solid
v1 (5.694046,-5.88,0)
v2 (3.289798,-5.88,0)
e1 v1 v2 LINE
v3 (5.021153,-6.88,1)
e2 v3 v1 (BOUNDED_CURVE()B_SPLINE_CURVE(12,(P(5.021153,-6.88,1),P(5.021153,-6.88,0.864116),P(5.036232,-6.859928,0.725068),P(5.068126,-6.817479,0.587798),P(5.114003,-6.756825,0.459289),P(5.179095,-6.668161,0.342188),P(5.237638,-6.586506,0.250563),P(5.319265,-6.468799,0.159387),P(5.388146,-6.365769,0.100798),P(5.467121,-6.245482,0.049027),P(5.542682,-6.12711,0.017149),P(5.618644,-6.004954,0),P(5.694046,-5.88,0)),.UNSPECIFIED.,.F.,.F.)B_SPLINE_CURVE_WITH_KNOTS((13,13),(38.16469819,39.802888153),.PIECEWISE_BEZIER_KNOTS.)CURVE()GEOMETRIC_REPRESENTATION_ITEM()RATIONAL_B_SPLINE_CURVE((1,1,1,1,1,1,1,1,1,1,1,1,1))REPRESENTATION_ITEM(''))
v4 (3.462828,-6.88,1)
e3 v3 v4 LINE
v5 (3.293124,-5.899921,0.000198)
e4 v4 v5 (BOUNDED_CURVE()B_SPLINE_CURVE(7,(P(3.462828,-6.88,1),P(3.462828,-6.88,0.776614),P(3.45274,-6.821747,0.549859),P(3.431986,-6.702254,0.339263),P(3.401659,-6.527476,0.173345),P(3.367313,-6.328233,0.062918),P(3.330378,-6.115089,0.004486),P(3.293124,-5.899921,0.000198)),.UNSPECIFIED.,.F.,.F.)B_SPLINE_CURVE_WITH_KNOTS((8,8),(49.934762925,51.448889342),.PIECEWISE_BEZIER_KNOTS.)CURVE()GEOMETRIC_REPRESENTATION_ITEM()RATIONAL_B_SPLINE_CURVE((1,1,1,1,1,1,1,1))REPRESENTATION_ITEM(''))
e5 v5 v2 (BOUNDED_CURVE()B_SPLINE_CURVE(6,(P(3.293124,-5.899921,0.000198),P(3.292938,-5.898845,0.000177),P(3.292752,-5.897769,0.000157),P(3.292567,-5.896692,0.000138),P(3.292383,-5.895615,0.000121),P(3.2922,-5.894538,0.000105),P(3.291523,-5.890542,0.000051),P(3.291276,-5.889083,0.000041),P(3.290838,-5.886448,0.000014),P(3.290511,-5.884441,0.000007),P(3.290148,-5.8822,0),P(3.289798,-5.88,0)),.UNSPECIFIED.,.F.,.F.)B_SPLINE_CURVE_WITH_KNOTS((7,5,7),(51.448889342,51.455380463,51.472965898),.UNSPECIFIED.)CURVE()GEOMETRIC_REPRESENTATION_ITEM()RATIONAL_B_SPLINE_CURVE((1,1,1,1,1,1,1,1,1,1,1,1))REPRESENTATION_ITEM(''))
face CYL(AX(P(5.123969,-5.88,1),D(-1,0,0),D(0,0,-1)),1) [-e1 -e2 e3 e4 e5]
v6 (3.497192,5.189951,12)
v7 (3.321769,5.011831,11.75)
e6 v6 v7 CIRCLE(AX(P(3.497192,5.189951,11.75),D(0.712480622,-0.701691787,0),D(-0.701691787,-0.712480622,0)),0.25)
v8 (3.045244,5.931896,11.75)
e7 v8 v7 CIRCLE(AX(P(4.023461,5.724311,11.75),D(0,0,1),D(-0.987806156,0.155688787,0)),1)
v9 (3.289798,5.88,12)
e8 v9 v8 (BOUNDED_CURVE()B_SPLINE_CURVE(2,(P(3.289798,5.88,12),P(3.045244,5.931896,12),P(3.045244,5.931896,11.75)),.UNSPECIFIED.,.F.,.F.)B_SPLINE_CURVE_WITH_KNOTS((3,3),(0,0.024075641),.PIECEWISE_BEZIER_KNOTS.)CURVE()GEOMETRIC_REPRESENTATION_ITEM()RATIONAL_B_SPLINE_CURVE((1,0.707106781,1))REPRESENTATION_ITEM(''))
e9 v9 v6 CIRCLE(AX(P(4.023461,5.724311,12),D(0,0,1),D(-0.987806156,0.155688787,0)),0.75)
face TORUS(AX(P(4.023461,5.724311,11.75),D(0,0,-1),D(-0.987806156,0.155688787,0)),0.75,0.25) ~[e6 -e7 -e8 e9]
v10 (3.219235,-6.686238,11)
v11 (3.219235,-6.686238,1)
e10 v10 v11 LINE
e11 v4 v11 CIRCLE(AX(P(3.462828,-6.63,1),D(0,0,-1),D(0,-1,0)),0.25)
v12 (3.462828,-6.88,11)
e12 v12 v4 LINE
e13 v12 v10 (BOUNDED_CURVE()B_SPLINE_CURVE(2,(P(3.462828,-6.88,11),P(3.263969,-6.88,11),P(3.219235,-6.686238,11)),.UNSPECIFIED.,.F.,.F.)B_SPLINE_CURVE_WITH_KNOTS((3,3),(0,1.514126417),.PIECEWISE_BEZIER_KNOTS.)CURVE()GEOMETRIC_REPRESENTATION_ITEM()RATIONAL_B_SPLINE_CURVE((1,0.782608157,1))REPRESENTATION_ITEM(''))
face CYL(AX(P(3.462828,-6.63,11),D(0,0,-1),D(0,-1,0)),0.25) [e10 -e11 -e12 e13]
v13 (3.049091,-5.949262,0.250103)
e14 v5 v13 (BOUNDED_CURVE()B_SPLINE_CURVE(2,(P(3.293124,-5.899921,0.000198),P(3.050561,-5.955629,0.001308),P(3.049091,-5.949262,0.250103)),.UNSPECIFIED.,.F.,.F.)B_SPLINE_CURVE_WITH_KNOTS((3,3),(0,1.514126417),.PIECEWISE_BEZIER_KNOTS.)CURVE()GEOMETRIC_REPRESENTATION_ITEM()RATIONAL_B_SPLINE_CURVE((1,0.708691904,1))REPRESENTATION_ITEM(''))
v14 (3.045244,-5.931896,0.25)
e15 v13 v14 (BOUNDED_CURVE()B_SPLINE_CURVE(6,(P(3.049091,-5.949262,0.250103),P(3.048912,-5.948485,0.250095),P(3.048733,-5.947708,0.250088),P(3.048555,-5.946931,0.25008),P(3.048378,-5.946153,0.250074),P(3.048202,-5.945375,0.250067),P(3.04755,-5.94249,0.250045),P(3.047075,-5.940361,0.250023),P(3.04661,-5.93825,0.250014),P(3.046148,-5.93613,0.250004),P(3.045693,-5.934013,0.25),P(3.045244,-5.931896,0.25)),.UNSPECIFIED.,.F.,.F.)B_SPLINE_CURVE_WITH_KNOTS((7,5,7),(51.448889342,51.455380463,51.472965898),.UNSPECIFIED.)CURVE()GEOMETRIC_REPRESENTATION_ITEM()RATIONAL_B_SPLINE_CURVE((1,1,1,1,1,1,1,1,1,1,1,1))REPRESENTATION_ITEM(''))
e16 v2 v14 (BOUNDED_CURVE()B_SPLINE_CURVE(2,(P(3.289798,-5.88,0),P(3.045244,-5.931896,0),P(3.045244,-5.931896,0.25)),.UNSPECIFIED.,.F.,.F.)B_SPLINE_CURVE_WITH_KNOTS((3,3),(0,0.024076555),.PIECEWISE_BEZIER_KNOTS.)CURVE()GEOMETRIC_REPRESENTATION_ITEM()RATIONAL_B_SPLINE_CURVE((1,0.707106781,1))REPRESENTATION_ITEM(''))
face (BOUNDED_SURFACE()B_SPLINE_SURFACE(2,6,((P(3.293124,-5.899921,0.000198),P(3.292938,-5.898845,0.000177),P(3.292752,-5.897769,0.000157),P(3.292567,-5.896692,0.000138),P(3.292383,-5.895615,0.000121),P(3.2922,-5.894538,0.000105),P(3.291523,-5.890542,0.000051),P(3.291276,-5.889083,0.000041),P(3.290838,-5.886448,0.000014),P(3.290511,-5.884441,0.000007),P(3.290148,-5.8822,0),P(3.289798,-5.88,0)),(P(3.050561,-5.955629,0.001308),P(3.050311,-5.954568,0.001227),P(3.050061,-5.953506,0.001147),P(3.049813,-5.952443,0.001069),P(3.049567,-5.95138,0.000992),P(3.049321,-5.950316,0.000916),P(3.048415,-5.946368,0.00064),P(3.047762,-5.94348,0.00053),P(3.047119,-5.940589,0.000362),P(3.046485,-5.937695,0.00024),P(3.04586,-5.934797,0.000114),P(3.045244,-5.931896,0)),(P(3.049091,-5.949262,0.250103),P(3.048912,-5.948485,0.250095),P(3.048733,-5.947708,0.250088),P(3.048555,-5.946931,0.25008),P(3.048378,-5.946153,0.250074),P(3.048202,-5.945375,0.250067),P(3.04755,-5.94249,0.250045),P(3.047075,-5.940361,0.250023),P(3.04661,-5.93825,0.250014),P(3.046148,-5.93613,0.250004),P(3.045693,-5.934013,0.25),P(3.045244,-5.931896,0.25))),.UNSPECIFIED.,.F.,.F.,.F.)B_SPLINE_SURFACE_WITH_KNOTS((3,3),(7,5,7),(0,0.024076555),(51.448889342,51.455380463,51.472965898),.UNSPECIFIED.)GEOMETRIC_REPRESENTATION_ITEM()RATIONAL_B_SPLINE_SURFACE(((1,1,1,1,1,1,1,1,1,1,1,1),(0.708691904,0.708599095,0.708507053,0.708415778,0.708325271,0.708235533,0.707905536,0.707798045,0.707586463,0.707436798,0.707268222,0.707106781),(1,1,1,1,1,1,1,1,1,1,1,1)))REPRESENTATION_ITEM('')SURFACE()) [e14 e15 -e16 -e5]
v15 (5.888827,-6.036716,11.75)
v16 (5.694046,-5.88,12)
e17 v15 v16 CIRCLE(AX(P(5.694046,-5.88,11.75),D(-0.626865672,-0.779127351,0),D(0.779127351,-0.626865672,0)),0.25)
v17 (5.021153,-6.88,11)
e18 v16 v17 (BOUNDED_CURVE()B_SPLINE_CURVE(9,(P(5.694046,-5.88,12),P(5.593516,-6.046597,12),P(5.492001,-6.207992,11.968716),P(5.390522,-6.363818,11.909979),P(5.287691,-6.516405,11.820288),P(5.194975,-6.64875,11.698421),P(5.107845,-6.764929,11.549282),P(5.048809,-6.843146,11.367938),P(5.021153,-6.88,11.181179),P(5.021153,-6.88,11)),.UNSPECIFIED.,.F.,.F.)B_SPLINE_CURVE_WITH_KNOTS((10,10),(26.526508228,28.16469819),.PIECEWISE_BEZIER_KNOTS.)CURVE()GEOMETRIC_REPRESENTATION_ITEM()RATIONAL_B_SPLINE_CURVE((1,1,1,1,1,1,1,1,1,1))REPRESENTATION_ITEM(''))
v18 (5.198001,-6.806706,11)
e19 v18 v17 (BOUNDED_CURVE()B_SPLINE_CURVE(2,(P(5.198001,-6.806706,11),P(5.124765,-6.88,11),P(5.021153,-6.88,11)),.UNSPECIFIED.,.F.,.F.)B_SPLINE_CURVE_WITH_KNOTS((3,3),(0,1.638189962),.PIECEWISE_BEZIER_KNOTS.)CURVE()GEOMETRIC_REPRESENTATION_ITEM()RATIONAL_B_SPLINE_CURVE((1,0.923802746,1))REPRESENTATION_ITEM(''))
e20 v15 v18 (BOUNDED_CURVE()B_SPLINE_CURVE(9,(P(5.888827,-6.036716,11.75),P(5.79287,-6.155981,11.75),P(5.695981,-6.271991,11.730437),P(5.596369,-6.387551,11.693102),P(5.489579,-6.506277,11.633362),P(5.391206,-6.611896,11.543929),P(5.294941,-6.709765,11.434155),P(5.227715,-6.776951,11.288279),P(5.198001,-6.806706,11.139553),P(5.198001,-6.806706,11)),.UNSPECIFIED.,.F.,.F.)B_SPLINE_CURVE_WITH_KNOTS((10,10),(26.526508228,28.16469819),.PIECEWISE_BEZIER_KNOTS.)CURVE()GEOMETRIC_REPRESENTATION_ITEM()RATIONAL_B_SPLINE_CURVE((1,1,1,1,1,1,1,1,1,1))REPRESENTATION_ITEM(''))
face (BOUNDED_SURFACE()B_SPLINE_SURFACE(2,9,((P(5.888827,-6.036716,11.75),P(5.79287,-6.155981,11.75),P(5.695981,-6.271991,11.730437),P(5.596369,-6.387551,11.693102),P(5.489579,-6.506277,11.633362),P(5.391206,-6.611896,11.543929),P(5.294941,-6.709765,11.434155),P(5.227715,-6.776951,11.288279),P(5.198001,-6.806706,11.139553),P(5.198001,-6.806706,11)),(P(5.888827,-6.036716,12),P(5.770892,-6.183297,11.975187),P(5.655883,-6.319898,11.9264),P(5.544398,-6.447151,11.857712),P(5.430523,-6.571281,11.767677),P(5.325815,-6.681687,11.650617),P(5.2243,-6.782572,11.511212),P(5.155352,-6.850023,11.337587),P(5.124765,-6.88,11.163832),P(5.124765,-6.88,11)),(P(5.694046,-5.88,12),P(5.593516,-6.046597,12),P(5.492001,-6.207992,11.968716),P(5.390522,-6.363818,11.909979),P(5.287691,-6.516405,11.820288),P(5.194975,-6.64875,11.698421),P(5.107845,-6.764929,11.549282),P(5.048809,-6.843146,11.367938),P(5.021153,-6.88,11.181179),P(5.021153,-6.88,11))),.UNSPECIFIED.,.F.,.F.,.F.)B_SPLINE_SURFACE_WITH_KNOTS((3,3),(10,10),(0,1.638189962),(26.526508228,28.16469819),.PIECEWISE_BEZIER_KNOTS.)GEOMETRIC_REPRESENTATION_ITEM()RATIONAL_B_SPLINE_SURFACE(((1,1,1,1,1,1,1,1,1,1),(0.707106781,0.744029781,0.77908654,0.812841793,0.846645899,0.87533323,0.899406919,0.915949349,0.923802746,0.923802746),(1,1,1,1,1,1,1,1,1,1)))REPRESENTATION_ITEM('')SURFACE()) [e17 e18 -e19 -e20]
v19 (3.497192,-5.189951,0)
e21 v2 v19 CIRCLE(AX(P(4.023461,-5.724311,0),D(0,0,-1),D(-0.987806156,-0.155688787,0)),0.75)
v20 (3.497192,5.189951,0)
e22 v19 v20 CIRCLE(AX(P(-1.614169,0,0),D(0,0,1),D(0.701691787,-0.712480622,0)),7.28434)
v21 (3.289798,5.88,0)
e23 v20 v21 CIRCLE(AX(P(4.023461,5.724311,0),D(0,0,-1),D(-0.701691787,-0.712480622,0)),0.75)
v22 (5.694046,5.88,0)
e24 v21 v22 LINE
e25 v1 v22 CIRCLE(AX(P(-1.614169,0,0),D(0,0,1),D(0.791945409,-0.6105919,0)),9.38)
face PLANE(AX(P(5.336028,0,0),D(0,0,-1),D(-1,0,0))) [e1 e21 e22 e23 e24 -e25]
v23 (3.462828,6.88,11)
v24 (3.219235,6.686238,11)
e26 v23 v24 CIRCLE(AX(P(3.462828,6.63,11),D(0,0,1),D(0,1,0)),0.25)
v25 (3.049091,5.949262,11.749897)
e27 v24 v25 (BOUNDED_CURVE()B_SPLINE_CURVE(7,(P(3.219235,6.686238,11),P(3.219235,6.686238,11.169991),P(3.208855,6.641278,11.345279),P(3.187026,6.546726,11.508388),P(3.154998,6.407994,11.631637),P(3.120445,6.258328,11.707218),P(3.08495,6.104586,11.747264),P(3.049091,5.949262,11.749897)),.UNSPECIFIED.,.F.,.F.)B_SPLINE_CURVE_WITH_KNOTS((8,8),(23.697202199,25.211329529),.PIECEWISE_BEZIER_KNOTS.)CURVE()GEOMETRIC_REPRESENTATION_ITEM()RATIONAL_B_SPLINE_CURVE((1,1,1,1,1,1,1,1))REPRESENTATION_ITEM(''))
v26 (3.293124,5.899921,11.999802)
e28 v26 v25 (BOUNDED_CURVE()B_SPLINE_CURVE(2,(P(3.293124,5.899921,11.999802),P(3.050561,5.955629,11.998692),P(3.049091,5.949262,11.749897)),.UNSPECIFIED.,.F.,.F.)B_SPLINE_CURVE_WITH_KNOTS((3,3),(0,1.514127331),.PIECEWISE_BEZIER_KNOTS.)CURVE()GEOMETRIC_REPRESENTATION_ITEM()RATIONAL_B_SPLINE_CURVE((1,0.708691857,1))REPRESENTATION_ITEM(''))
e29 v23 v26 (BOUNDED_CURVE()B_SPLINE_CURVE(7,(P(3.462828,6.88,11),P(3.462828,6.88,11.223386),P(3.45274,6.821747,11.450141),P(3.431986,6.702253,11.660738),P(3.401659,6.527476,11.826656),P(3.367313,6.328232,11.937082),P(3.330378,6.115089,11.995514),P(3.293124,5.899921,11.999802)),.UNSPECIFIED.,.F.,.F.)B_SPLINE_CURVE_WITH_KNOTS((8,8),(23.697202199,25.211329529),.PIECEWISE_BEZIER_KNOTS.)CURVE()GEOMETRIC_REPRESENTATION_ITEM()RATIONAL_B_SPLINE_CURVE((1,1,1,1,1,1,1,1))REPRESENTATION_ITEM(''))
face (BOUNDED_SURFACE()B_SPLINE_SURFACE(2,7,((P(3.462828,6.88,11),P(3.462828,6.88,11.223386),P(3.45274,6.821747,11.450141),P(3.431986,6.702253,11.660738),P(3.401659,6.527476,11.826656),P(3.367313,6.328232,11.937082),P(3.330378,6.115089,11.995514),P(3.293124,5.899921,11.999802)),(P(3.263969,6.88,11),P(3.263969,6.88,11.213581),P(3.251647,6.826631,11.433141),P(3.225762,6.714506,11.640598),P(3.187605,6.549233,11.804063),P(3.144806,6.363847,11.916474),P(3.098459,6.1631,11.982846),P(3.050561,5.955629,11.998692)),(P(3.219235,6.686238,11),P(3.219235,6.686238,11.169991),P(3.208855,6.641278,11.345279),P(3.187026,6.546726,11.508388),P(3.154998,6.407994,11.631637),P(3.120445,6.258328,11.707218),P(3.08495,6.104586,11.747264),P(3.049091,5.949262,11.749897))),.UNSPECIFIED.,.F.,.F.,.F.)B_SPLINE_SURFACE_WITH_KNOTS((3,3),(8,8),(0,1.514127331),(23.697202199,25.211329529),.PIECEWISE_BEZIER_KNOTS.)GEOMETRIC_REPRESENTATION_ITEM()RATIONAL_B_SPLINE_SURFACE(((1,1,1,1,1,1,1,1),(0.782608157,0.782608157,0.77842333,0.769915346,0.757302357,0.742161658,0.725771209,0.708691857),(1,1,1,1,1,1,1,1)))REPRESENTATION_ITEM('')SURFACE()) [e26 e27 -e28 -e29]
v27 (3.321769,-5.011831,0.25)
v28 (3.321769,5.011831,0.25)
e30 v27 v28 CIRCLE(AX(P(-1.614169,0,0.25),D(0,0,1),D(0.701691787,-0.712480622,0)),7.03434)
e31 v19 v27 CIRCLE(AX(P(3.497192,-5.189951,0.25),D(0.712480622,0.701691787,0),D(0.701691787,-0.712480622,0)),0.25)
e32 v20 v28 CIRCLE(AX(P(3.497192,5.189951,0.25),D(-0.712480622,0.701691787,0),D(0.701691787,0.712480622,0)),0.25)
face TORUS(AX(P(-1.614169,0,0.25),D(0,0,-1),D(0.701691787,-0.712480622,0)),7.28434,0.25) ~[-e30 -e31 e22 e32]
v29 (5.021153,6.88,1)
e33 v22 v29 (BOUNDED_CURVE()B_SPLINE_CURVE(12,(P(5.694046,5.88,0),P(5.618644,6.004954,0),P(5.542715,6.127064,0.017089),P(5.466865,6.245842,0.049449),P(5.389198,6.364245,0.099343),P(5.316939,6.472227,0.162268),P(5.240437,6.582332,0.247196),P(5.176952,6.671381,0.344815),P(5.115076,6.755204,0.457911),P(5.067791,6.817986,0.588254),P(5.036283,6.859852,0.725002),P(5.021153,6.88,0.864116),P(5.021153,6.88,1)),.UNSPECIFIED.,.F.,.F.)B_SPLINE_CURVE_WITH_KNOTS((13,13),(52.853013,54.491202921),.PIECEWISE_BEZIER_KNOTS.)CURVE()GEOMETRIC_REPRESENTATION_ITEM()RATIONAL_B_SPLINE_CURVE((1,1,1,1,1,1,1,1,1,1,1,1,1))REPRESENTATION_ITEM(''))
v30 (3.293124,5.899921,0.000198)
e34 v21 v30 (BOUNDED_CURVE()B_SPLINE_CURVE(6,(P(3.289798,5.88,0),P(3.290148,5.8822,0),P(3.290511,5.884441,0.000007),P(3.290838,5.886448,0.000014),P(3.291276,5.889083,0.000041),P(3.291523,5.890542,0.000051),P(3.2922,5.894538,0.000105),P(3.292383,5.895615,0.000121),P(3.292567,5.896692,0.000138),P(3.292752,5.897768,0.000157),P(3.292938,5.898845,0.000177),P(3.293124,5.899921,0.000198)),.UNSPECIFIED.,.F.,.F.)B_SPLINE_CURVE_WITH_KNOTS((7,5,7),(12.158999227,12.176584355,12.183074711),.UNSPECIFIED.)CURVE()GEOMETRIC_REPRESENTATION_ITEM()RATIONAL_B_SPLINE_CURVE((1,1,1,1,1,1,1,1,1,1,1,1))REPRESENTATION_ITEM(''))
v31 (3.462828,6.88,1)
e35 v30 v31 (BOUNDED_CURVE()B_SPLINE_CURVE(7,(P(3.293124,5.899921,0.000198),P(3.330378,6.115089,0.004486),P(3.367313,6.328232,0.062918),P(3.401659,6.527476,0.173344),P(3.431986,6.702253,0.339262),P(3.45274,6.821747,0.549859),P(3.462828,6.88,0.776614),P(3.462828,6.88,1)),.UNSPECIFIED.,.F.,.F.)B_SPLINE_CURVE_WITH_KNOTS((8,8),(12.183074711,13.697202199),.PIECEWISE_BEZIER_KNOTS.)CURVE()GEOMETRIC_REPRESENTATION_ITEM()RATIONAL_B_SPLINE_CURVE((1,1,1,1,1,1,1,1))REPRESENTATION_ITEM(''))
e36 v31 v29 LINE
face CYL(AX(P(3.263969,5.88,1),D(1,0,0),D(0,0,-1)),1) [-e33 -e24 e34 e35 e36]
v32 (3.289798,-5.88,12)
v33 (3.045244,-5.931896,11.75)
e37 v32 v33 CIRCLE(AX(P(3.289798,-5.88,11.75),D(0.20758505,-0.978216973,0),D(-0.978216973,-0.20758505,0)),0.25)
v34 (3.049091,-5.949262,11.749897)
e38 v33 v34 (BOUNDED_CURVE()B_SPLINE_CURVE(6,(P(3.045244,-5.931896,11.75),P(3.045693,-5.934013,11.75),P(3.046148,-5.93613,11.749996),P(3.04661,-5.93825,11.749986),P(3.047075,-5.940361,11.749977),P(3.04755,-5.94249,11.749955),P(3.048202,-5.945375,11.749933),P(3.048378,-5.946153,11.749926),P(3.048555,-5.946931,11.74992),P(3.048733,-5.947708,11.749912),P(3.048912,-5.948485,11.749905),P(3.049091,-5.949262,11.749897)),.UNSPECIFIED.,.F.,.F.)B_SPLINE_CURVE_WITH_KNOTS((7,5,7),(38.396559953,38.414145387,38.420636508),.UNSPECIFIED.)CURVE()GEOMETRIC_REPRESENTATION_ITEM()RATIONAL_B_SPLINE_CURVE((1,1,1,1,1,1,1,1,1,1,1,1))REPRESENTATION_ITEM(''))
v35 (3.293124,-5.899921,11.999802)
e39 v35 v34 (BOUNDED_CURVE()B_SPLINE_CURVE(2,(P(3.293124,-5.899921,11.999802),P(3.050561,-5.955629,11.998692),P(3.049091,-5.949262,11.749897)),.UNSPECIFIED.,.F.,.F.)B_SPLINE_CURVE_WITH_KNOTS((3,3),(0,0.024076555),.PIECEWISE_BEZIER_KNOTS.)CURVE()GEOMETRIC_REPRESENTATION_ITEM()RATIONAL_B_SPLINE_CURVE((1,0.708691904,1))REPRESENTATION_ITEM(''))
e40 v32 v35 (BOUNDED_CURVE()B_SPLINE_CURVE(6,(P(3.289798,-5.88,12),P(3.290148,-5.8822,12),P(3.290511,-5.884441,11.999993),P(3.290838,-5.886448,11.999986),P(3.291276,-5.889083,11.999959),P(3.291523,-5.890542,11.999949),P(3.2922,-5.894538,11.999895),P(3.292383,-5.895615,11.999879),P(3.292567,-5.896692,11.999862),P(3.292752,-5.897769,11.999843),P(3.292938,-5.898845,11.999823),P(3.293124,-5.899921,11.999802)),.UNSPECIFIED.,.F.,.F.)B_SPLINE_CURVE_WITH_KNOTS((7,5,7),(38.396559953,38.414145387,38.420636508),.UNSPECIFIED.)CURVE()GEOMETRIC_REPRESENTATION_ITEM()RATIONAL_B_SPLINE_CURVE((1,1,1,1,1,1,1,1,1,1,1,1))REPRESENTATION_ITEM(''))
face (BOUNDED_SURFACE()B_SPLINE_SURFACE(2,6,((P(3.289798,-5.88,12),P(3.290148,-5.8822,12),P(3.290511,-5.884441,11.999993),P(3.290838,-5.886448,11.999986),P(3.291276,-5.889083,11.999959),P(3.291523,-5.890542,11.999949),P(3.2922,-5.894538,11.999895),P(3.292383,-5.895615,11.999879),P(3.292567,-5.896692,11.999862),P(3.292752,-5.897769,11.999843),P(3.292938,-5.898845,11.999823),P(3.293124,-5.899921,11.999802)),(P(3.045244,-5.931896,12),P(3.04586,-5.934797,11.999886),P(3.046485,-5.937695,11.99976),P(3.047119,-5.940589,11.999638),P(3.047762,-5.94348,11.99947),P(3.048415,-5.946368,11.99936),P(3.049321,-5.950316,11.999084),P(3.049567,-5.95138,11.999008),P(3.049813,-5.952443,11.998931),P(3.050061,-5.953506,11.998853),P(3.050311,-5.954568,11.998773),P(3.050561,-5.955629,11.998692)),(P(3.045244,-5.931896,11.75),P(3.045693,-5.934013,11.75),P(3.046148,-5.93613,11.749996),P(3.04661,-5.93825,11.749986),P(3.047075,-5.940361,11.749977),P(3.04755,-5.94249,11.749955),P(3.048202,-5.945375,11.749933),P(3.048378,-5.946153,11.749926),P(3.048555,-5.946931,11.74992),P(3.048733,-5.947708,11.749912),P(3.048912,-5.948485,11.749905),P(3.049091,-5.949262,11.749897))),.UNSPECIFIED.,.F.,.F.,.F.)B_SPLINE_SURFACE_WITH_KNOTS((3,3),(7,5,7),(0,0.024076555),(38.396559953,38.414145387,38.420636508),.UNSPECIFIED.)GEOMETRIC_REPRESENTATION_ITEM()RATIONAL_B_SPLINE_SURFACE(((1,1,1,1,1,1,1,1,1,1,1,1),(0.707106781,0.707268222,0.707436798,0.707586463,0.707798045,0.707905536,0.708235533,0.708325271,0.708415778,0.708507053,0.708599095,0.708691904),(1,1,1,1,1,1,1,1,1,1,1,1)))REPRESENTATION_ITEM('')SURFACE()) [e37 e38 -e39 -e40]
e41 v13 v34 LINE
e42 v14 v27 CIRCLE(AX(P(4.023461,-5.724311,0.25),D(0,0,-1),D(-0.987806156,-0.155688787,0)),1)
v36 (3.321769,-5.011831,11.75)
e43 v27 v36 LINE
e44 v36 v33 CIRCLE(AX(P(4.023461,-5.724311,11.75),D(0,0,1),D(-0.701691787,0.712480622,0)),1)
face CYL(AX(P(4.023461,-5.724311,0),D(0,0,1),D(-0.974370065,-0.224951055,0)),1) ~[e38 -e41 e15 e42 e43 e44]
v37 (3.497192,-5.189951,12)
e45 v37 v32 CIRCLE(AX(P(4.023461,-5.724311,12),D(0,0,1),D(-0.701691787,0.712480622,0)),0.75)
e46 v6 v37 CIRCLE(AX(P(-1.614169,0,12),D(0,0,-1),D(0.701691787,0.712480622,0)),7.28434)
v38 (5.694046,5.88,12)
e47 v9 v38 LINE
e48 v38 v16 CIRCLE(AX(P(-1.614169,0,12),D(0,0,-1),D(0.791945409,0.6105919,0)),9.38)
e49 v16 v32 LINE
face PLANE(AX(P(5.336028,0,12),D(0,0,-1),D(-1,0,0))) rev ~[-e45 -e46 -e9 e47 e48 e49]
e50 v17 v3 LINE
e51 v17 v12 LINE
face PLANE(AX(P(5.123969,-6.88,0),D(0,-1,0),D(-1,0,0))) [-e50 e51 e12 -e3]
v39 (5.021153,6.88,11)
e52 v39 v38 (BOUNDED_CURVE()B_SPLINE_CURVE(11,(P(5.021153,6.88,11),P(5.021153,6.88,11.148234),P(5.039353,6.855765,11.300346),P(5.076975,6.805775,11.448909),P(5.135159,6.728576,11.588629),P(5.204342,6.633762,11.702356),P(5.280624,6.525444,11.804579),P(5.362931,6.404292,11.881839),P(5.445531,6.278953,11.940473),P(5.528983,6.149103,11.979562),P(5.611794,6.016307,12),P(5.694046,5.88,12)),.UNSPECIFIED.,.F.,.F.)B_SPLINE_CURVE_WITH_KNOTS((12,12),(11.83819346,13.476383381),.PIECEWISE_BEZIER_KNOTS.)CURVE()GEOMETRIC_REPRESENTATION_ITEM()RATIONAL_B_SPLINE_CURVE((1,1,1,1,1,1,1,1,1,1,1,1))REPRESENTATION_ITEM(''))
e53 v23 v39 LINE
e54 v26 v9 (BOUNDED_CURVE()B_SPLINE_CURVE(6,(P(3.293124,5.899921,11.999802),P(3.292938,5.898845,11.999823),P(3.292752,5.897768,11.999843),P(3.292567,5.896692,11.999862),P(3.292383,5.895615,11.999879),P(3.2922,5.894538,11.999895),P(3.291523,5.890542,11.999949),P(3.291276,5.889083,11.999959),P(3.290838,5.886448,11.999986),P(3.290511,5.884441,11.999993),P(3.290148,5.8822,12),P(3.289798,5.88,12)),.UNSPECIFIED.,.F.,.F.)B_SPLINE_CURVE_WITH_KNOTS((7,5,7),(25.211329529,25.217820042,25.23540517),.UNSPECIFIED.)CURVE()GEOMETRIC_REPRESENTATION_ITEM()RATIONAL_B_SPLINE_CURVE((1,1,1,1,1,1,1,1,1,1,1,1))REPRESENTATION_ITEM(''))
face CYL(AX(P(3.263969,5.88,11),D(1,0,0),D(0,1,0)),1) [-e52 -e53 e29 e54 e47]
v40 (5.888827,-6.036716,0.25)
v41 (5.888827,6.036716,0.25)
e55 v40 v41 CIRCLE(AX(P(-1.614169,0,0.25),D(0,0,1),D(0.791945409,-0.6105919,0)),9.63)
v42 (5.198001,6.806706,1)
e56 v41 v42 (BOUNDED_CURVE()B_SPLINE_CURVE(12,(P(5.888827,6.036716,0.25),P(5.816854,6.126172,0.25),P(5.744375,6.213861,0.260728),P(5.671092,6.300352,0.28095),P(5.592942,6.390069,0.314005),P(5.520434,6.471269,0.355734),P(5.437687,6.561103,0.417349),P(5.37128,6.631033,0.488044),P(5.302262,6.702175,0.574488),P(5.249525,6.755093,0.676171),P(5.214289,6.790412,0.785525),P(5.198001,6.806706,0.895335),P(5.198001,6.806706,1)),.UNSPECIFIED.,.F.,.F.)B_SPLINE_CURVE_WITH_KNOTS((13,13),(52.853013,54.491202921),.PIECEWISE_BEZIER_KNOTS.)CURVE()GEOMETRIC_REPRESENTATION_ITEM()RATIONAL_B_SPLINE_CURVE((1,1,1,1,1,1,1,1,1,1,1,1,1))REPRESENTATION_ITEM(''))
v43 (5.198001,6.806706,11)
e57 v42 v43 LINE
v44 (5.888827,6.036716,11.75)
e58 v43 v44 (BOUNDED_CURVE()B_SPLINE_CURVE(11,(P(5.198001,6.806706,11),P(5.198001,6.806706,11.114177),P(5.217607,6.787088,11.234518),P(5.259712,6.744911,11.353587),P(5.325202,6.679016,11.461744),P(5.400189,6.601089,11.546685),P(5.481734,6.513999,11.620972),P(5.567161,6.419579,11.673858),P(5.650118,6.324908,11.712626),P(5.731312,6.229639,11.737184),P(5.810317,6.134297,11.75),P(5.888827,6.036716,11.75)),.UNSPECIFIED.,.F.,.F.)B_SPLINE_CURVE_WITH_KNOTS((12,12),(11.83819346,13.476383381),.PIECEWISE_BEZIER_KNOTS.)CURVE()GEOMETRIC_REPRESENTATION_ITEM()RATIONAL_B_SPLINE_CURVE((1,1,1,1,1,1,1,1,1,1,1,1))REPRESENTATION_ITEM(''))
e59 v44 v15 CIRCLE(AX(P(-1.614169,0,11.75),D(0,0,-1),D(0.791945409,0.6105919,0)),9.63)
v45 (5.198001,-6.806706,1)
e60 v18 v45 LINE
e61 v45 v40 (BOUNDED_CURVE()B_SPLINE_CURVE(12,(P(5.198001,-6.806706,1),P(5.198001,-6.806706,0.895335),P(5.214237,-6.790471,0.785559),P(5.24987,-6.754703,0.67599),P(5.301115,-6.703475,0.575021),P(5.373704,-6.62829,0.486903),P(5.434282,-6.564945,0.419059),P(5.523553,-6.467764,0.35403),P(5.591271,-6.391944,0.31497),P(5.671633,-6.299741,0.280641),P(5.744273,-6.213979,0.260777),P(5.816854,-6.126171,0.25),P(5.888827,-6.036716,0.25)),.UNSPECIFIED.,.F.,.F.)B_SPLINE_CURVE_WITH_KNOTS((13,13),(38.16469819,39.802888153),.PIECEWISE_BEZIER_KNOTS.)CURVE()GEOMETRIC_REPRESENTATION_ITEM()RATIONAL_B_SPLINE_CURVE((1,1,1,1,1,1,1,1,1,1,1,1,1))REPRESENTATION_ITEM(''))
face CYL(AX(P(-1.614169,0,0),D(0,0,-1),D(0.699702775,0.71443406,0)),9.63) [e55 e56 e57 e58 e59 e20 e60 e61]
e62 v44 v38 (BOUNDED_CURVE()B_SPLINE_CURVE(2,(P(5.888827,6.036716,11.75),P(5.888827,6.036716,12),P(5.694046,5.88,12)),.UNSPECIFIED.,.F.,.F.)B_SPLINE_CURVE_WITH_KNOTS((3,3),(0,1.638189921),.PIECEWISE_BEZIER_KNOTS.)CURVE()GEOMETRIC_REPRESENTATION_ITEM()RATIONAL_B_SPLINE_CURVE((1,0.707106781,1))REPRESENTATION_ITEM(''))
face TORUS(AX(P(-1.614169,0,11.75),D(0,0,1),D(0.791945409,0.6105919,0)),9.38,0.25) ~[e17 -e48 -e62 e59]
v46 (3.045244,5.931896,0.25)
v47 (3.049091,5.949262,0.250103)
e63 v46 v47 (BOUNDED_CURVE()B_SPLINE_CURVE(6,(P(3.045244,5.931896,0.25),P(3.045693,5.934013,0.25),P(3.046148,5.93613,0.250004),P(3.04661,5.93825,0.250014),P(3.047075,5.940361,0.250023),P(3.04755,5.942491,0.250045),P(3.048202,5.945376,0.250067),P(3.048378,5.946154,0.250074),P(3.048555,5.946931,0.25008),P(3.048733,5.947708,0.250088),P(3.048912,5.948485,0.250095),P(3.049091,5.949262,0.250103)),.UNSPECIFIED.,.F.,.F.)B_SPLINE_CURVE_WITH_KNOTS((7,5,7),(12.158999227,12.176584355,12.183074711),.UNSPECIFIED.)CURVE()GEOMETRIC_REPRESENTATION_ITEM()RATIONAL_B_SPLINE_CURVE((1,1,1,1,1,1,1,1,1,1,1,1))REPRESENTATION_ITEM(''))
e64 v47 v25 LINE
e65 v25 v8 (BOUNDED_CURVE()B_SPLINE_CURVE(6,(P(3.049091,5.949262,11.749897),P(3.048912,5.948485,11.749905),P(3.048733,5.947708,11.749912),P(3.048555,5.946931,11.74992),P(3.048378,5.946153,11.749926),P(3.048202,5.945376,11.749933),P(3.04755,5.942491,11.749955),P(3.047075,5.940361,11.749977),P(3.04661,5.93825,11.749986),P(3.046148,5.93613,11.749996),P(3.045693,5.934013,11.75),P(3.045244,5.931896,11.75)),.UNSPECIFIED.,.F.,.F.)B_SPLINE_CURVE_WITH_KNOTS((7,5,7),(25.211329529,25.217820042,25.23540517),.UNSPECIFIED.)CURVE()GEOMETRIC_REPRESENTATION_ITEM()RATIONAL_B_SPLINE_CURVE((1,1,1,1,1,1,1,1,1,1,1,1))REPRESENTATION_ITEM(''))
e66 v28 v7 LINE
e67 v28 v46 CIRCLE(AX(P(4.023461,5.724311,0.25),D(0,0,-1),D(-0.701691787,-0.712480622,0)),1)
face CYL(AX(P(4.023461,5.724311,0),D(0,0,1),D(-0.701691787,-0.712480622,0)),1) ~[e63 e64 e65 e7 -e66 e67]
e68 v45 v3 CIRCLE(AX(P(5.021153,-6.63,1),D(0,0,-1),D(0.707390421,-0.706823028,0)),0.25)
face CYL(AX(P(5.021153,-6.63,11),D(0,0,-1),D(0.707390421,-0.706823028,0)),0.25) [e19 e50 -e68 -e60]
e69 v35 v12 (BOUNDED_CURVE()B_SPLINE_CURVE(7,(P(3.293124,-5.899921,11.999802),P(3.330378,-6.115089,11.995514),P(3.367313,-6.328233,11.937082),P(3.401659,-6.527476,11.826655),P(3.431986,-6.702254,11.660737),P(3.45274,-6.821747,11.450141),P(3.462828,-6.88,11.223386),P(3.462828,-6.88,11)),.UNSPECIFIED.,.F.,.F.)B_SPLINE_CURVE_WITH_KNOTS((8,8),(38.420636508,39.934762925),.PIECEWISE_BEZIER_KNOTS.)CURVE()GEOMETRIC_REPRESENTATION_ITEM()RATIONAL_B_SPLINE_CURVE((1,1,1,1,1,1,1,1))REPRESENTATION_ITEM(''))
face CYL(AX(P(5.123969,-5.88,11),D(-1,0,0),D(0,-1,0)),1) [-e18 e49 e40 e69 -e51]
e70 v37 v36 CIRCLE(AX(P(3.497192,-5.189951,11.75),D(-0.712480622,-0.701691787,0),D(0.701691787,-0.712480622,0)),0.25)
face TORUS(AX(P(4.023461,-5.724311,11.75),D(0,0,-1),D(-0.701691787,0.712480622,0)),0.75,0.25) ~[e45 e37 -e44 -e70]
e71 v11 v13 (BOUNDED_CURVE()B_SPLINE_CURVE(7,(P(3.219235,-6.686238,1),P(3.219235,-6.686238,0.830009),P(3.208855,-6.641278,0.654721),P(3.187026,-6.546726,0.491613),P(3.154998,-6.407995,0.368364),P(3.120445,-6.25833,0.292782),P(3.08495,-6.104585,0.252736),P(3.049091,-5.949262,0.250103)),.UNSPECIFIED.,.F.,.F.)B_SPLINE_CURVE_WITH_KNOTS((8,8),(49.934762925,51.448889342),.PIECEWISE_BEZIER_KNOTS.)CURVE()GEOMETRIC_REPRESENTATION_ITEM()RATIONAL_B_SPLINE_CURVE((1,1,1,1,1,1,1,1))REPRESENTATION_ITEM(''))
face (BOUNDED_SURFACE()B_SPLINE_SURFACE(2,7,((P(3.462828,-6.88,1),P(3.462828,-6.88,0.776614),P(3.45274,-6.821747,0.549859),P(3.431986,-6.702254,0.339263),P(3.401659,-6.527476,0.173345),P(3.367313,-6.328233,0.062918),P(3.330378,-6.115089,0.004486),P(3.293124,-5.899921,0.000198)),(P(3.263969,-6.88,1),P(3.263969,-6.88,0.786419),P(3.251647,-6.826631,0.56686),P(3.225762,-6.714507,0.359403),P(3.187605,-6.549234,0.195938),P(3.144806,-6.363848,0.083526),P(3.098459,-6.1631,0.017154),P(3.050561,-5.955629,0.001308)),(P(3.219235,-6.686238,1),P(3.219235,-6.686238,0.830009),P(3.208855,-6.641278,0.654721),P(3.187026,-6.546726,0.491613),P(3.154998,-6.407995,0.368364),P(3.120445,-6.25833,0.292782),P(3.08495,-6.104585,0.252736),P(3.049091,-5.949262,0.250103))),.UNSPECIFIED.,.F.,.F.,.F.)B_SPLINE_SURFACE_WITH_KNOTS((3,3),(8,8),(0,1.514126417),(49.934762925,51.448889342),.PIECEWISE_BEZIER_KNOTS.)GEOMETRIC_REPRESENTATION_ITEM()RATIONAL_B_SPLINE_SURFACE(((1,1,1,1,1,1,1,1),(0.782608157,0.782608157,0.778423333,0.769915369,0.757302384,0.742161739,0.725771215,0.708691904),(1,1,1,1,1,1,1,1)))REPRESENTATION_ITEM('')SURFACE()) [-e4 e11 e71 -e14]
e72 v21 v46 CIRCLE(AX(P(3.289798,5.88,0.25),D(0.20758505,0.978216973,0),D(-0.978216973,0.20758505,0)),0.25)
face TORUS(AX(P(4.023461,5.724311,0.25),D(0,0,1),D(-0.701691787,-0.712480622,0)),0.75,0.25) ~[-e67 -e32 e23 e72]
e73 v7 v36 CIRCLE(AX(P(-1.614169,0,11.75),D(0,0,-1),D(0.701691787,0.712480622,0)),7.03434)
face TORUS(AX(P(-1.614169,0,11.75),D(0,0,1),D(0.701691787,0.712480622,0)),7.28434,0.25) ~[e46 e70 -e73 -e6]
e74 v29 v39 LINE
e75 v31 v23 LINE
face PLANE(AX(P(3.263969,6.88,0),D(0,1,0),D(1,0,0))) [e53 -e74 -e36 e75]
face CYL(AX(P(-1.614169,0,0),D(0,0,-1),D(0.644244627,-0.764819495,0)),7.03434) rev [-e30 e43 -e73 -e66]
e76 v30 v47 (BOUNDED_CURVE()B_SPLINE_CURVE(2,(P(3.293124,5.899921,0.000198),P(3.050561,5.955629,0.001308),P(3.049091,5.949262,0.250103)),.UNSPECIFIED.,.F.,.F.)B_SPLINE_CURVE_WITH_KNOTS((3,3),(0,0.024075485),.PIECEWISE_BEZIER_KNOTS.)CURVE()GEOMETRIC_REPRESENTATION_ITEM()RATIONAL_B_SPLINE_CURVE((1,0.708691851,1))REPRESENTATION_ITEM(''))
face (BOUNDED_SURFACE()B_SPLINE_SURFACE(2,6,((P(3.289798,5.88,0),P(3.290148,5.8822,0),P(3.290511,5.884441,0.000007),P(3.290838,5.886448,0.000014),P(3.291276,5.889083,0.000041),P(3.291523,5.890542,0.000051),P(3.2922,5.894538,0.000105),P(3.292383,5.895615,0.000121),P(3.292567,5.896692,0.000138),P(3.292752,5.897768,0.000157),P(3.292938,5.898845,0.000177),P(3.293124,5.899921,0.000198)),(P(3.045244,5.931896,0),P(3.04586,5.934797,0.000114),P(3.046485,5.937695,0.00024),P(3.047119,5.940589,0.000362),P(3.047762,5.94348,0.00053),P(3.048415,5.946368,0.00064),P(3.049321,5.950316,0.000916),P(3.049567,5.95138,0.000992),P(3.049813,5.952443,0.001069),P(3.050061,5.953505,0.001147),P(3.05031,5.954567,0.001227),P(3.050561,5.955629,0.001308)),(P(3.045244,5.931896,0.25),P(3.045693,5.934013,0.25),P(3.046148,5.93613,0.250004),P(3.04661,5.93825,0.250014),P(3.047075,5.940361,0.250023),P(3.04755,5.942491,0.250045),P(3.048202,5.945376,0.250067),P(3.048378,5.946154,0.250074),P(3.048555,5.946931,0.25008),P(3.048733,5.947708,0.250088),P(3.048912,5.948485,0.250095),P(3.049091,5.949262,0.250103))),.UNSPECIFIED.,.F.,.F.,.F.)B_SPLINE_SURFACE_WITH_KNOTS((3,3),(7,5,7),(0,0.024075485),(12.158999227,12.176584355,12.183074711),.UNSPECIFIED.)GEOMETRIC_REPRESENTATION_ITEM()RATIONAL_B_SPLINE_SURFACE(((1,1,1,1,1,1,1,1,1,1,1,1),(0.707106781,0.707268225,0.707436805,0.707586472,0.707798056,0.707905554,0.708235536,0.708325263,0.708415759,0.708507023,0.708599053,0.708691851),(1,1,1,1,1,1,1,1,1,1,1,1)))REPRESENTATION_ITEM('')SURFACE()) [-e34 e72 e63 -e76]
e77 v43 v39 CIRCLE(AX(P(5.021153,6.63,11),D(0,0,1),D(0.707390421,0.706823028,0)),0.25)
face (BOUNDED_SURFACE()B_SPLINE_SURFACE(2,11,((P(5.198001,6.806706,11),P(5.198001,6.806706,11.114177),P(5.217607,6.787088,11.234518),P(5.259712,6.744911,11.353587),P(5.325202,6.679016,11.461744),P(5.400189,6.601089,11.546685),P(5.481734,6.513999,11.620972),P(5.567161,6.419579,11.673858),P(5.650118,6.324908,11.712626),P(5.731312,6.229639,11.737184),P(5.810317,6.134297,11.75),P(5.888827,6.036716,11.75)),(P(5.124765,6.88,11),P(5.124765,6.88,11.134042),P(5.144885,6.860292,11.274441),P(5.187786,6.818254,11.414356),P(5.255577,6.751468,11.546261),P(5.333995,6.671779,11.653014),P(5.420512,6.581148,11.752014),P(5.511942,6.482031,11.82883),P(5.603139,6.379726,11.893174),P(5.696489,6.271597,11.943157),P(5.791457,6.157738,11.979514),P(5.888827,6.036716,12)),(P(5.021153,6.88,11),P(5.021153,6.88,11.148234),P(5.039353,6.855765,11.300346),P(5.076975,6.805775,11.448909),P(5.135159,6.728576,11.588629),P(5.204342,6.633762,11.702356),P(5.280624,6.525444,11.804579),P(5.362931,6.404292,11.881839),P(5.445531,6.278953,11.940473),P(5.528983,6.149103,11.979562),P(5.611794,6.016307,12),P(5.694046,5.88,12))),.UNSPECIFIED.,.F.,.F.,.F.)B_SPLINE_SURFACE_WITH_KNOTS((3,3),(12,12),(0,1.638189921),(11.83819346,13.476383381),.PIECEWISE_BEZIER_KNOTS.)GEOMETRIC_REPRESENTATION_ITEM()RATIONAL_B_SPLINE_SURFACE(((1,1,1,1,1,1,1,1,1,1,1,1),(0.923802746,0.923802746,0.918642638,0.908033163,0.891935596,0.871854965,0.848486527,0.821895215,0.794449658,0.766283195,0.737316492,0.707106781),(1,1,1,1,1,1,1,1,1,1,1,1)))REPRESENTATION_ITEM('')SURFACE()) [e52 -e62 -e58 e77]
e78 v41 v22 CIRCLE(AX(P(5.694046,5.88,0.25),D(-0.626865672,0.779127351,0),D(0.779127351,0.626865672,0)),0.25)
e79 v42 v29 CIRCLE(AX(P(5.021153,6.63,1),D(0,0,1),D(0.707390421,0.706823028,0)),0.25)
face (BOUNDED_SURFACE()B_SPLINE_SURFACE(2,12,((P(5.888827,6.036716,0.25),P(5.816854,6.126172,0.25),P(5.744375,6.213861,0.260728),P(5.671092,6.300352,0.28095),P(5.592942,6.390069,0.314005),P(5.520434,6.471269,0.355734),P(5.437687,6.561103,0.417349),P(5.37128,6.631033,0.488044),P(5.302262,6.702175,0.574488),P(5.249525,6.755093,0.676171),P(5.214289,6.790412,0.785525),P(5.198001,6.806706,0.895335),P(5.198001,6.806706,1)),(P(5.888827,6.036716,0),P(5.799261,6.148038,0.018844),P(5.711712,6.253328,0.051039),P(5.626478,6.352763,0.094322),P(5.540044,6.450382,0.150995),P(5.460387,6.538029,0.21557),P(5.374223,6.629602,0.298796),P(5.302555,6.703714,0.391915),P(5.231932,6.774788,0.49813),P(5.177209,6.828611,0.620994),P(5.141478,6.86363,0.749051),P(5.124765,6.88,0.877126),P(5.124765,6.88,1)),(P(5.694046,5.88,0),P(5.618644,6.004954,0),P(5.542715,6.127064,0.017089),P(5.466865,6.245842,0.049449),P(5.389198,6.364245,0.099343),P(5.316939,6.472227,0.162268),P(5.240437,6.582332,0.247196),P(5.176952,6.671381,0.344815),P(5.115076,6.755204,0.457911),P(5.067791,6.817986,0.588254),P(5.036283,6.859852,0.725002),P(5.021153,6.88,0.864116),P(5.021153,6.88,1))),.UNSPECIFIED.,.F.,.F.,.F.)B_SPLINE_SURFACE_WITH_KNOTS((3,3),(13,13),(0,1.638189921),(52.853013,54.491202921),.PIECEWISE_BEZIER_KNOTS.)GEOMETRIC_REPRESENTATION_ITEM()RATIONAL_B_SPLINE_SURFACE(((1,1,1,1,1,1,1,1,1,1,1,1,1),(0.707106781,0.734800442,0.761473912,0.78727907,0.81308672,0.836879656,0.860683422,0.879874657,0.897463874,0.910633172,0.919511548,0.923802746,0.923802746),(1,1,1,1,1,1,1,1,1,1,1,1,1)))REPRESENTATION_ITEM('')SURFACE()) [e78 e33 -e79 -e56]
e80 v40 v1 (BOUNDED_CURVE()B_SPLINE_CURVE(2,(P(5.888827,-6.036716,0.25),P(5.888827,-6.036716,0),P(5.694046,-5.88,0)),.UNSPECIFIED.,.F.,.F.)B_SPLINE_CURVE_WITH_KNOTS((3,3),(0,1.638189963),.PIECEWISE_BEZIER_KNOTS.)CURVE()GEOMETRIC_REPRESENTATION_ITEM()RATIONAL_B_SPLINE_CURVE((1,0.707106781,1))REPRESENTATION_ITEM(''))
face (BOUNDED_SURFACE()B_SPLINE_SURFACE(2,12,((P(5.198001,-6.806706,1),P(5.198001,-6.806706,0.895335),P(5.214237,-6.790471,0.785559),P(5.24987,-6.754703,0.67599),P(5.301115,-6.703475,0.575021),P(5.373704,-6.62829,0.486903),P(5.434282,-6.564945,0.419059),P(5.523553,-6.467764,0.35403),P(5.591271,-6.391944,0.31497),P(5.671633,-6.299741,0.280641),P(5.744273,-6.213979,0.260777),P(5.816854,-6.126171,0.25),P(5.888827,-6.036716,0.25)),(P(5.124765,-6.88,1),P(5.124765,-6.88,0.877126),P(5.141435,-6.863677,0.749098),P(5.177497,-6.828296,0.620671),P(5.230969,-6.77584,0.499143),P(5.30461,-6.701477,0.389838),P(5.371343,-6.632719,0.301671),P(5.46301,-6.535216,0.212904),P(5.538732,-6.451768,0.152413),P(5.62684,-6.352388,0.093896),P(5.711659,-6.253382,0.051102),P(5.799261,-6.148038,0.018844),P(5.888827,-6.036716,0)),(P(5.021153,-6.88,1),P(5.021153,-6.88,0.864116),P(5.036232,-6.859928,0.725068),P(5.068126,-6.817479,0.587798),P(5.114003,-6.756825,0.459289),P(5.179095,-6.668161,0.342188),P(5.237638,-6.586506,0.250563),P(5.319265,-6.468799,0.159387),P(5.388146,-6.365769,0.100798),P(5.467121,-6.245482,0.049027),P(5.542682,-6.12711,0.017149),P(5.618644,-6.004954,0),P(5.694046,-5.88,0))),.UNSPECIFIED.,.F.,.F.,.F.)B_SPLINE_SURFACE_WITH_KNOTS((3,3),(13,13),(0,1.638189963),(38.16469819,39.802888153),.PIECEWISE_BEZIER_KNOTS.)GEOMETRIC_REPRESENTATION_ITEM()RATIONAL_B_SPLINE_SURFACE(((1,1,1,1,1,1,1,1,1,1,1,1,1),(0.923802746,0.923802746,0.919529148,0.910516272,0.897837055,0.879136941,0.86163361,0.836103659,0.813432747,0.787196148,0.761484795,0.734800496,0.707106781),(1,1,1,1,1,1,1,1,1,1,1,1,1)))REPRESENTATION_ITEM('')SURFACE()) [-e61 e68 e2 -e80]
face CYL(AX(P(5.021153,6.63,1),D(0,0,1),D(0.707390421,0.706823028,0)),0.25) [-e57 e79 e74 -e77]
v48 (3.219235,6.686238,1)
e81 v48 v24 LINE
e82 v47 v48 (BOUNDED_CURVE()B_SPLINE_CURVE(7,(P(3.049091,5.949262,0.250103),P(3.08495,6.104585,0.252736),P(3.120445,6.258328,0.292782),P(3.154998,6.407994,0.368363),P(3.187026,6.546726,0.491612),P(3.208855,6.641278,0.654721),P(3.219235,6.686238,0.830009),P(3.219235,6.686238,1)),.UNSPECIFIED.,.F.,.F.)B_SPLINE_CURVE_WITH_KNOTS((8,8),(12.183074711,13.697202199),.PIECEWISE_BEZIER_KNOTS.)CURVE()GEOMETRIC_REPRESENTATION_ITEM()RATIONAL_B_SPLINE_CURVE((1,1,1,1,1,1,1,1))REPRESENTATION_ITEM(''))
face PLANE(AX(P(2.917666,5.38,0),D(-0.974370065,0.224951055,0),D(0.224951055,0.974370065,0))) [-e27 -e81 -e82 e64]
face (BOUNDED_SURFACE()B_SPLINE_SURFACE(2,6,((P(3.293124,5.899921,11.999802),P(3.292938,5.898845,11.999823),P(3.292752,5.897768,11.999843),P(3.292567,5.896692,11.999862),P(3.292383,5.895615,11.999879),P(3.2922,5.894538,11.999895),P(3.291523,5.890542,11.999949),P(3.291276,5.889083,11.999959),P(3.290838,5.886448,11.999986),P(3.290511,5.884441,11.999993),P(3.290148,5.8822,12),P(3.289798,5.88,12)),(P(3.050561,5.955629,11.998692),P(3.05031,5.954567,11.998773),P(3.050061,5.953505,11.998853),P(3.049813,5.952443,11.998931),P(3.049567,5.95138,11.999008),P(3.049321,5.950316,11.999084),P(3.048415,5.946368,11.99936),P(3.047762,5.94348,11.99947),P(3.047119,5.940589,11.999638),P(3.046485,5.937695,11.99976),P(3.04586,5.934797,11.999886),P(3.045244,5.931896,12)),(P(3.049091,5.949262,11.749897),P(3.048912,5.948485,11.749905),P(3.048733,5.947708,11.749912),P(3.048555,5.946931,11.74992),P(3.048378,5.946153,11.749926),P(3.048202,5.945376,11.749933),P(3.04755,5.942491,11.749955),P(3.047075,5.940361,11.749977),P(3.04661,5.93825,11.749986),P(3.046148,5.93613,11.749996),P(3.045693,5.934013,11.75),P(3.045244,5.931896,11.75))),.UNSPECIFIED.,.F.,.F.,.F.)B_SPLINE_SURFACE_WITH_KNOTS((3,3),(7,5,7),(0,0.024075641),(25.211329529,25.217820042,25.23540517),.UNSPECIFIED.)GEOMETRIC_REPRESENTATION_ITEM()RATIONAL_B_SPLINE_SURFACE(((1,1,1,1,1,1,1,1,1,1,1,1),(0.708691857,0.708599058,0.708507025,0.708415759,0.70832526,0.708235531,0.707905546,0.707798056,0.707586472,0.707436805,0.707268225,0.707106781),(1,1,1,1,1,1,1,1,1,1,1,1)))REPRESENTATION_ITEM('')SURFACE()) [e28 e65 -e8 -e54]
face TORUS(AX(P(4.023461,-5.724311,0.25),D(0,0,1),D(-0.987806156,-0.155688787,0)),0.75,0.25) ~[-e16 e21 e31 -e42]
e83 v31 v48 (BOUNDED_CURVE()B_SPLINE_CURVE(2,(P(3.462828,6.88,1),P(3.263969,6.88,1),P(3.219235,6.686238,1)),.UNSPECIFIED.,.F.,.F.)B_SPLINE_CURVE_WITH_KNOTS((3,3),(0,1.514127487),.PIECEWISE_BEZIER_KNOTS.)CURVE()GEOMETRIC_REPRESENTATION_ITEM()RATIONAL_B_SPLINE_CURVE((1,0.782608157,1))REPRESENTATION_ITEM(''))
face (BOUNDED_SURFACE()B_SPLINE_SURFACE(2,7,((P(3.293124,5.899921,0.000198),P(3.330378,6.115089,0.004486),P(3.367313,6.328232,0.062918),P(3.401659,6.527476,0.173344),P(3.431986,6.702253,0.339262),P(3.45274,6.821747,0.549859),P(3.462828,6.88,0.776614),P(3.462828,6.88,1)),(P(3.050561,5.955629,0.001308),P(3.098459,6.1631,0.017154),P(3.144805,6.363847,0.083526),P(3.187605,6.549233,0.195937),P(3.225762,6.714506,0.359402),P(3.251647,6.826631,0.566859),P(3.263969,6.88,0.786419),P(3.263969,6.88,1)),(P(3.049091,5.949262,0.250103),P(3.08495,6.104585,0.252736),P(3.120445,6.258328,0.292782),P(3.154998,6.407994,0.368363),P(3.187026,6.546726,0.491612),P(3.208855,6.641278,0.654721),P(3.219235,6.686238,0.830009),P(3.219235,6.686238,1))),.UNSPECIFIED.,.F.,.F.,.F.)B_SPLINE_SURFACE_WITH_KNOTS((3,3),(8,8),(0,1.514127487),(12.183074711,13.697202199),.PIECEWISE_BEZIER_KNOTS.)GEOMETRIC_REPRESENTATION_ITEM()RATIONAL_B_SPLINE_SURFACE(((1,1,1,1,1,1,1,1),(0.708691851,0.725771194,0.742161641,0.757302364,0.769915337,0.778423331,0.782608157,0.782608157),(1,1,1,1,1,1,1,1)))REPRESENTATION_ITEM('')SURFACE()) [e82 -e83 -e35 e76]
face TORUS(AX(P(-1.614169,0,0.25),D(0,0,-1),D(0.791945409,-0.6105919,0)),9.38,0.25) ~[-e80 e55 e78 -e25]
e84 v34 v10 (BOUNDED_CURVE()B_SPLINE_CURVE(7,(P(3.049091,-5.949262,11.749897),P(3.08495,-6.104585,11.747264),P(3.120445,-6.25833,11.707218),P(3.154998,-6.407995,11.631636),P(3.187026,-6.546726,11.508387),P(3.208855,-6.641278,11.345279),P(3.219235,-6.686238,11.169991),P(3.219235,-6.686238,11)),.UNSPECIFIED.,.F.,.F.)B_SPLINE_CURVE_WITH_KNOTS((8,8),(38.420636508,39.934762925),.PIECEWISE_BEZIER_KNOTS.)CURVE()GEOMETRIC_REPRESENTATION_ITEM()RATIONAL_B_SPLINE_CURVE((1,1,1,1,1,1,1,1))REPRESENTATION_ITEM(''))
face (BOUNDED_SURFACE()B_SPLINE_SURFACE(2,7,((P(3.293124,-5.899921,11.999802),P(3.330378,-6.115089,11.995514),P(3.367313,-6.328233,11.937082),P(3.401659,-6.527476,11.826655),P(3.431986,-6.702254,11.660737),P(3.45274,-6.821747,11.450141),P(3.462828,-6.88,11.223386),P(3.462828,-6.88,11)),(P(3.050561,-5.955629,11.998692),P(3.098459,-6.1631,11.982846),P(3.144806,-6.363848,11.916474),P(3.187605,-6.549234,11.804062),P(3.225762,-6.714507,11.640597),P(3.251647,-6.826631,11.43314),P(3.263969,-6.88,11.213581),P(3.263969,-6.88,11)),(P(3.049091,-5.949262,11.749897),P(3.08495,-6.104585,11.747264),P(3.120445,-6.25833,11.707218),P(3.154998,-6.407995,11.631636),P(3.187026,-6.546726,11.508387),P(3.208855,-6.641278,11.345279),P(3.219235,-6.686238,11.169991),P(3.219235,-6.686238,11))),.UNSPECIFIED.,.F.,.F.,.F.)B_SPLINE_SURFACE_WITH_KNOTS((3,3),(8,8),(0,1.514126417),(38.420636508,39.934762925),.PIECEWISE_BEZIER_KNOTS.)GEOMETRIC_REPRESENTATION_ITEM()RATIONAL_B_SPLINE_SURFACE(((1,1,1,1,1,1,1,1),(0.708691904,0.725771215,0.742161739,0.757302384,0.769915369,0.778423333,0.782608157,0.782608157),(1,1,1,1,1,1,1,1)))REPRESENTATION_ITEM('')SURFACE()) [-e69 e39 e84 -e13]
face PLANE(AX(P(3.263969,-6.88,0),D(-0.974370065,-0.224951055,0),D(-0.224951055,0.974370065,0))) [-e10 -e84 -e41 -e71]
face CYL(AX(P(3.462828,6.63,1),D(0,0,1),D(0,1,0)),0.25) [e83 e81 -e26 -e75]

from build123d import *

# Parameters (mm, degrees)
BOSS_EXTRUDE1_DEPTH = 12
FILLET1_R           = 1
FILLET3_R           = 1
FILLET4_R           = 1
FILLET5_R           = 1
FILLET6_R           = 0.25


with BuildPart() as part:
    # Sketch1 → Boss-Extrude1 (new body)
    with BuildSketch(Plane.XY):
        with BuildLine():
            Line((5.123968755, -6.88), (3.263968755, -6.88))
            Line((3.263968755, -6.88), (2.917666468, -5.38))
            ThreePointArc((2.917666468, -5.38), (5.420170547, 0), (2.917666468, 5.38))
            Line((2.917666468, 5.38), (3.263968755, 6.88))
            Line((3.263968755, 6.88), (5.123968755, 6.88))
            ThreePointArc((5.123968755, 6.88), (8.01583103, 0), (5.123968755, -6.88))
        make_face()
    extrude(amount=BOSS_EXTRUDE1_DEPTH)

    # Fillet1
    fillet1_edges = [part.edges().sort_by_distance(p)[0] for p in [
        (2.917666468, -5.38, 6),
        (2.917666468, 5.38, 6),
    ]]
    fillet(fillet1_edges, radius=FILLET1_R)

    # Fillet3
    fillet3_edges = [part.edges().sort_by_distance(p)[0] for p in [
        (4.193968755, 6.88, 0),
    ]]
    fillet(fillet3_edges, radius=FILLET3_R)

    # Fillet4
    fillet4_edges = [part.edges().sort_by_distance(p)[0] for p in [
        (4.193968755, -6.88, 0),
    ]]
    fillet(fillet4_edges, radius=FILLET4_R)

    # Fillet5
    fillet5_edges = [part.edges().sort_by_distance(p)[0] for p in [
        (4.193968755, 6.88, 12),
        (4.193968755, -6.88, 12),
    ]]
    fillet(fillet5_edges, radius=FILLET5_R)

    # Fillet6
    fillet6_edges = [part.edges().sort_by_distance(p)[0] for p in [
        (5.420170547, 0, 0),
        (3.073708296, 5.411310183, 0),
        (5.420170547, 0, 12),
        (3.073708296, -5.411310183, 12),
        (3.200954518, 6.607055355, 0.313421155),
        (3.041765805, 5.914769544, 0.00060465),
        (5.450167616, 6.544619823, 0.252818297),
        (8.01583103, 0, 0),
        (5.450167607, -6.544619807, 0.2528183),
        (3.073708296, -5.411310183, 0),
        (3.041765802, -5.914769545, 0.000604643),
        (3.200954518, -6.607055355, 0.313421155),
        (8.01583103, 0, 12),
        (3.073708296, 5.411310183, 12),
        (3.041765805, 5.914769544, 11.99939535),
        (3.263968755, 6.88, 6),
        (3.200954518, 6.607055355, 11.686578845),
        (5.123968755, 6.88, 6),
        (5.123968755, -6.88, 6),
        (5.450167618, -6.544619821, 11.747181705),
        (5.450167616, 6.544619824, 11.747181702),
        (3.263968755, -6.88, 6),
        (3.200954518, -6.607055355, 11.686578845),
        (3.041765802, -5.914769545, 11.999395357),
    ]]
    fillet(fillet6_edges, radius=FILLET6_R)


solid = part.part
